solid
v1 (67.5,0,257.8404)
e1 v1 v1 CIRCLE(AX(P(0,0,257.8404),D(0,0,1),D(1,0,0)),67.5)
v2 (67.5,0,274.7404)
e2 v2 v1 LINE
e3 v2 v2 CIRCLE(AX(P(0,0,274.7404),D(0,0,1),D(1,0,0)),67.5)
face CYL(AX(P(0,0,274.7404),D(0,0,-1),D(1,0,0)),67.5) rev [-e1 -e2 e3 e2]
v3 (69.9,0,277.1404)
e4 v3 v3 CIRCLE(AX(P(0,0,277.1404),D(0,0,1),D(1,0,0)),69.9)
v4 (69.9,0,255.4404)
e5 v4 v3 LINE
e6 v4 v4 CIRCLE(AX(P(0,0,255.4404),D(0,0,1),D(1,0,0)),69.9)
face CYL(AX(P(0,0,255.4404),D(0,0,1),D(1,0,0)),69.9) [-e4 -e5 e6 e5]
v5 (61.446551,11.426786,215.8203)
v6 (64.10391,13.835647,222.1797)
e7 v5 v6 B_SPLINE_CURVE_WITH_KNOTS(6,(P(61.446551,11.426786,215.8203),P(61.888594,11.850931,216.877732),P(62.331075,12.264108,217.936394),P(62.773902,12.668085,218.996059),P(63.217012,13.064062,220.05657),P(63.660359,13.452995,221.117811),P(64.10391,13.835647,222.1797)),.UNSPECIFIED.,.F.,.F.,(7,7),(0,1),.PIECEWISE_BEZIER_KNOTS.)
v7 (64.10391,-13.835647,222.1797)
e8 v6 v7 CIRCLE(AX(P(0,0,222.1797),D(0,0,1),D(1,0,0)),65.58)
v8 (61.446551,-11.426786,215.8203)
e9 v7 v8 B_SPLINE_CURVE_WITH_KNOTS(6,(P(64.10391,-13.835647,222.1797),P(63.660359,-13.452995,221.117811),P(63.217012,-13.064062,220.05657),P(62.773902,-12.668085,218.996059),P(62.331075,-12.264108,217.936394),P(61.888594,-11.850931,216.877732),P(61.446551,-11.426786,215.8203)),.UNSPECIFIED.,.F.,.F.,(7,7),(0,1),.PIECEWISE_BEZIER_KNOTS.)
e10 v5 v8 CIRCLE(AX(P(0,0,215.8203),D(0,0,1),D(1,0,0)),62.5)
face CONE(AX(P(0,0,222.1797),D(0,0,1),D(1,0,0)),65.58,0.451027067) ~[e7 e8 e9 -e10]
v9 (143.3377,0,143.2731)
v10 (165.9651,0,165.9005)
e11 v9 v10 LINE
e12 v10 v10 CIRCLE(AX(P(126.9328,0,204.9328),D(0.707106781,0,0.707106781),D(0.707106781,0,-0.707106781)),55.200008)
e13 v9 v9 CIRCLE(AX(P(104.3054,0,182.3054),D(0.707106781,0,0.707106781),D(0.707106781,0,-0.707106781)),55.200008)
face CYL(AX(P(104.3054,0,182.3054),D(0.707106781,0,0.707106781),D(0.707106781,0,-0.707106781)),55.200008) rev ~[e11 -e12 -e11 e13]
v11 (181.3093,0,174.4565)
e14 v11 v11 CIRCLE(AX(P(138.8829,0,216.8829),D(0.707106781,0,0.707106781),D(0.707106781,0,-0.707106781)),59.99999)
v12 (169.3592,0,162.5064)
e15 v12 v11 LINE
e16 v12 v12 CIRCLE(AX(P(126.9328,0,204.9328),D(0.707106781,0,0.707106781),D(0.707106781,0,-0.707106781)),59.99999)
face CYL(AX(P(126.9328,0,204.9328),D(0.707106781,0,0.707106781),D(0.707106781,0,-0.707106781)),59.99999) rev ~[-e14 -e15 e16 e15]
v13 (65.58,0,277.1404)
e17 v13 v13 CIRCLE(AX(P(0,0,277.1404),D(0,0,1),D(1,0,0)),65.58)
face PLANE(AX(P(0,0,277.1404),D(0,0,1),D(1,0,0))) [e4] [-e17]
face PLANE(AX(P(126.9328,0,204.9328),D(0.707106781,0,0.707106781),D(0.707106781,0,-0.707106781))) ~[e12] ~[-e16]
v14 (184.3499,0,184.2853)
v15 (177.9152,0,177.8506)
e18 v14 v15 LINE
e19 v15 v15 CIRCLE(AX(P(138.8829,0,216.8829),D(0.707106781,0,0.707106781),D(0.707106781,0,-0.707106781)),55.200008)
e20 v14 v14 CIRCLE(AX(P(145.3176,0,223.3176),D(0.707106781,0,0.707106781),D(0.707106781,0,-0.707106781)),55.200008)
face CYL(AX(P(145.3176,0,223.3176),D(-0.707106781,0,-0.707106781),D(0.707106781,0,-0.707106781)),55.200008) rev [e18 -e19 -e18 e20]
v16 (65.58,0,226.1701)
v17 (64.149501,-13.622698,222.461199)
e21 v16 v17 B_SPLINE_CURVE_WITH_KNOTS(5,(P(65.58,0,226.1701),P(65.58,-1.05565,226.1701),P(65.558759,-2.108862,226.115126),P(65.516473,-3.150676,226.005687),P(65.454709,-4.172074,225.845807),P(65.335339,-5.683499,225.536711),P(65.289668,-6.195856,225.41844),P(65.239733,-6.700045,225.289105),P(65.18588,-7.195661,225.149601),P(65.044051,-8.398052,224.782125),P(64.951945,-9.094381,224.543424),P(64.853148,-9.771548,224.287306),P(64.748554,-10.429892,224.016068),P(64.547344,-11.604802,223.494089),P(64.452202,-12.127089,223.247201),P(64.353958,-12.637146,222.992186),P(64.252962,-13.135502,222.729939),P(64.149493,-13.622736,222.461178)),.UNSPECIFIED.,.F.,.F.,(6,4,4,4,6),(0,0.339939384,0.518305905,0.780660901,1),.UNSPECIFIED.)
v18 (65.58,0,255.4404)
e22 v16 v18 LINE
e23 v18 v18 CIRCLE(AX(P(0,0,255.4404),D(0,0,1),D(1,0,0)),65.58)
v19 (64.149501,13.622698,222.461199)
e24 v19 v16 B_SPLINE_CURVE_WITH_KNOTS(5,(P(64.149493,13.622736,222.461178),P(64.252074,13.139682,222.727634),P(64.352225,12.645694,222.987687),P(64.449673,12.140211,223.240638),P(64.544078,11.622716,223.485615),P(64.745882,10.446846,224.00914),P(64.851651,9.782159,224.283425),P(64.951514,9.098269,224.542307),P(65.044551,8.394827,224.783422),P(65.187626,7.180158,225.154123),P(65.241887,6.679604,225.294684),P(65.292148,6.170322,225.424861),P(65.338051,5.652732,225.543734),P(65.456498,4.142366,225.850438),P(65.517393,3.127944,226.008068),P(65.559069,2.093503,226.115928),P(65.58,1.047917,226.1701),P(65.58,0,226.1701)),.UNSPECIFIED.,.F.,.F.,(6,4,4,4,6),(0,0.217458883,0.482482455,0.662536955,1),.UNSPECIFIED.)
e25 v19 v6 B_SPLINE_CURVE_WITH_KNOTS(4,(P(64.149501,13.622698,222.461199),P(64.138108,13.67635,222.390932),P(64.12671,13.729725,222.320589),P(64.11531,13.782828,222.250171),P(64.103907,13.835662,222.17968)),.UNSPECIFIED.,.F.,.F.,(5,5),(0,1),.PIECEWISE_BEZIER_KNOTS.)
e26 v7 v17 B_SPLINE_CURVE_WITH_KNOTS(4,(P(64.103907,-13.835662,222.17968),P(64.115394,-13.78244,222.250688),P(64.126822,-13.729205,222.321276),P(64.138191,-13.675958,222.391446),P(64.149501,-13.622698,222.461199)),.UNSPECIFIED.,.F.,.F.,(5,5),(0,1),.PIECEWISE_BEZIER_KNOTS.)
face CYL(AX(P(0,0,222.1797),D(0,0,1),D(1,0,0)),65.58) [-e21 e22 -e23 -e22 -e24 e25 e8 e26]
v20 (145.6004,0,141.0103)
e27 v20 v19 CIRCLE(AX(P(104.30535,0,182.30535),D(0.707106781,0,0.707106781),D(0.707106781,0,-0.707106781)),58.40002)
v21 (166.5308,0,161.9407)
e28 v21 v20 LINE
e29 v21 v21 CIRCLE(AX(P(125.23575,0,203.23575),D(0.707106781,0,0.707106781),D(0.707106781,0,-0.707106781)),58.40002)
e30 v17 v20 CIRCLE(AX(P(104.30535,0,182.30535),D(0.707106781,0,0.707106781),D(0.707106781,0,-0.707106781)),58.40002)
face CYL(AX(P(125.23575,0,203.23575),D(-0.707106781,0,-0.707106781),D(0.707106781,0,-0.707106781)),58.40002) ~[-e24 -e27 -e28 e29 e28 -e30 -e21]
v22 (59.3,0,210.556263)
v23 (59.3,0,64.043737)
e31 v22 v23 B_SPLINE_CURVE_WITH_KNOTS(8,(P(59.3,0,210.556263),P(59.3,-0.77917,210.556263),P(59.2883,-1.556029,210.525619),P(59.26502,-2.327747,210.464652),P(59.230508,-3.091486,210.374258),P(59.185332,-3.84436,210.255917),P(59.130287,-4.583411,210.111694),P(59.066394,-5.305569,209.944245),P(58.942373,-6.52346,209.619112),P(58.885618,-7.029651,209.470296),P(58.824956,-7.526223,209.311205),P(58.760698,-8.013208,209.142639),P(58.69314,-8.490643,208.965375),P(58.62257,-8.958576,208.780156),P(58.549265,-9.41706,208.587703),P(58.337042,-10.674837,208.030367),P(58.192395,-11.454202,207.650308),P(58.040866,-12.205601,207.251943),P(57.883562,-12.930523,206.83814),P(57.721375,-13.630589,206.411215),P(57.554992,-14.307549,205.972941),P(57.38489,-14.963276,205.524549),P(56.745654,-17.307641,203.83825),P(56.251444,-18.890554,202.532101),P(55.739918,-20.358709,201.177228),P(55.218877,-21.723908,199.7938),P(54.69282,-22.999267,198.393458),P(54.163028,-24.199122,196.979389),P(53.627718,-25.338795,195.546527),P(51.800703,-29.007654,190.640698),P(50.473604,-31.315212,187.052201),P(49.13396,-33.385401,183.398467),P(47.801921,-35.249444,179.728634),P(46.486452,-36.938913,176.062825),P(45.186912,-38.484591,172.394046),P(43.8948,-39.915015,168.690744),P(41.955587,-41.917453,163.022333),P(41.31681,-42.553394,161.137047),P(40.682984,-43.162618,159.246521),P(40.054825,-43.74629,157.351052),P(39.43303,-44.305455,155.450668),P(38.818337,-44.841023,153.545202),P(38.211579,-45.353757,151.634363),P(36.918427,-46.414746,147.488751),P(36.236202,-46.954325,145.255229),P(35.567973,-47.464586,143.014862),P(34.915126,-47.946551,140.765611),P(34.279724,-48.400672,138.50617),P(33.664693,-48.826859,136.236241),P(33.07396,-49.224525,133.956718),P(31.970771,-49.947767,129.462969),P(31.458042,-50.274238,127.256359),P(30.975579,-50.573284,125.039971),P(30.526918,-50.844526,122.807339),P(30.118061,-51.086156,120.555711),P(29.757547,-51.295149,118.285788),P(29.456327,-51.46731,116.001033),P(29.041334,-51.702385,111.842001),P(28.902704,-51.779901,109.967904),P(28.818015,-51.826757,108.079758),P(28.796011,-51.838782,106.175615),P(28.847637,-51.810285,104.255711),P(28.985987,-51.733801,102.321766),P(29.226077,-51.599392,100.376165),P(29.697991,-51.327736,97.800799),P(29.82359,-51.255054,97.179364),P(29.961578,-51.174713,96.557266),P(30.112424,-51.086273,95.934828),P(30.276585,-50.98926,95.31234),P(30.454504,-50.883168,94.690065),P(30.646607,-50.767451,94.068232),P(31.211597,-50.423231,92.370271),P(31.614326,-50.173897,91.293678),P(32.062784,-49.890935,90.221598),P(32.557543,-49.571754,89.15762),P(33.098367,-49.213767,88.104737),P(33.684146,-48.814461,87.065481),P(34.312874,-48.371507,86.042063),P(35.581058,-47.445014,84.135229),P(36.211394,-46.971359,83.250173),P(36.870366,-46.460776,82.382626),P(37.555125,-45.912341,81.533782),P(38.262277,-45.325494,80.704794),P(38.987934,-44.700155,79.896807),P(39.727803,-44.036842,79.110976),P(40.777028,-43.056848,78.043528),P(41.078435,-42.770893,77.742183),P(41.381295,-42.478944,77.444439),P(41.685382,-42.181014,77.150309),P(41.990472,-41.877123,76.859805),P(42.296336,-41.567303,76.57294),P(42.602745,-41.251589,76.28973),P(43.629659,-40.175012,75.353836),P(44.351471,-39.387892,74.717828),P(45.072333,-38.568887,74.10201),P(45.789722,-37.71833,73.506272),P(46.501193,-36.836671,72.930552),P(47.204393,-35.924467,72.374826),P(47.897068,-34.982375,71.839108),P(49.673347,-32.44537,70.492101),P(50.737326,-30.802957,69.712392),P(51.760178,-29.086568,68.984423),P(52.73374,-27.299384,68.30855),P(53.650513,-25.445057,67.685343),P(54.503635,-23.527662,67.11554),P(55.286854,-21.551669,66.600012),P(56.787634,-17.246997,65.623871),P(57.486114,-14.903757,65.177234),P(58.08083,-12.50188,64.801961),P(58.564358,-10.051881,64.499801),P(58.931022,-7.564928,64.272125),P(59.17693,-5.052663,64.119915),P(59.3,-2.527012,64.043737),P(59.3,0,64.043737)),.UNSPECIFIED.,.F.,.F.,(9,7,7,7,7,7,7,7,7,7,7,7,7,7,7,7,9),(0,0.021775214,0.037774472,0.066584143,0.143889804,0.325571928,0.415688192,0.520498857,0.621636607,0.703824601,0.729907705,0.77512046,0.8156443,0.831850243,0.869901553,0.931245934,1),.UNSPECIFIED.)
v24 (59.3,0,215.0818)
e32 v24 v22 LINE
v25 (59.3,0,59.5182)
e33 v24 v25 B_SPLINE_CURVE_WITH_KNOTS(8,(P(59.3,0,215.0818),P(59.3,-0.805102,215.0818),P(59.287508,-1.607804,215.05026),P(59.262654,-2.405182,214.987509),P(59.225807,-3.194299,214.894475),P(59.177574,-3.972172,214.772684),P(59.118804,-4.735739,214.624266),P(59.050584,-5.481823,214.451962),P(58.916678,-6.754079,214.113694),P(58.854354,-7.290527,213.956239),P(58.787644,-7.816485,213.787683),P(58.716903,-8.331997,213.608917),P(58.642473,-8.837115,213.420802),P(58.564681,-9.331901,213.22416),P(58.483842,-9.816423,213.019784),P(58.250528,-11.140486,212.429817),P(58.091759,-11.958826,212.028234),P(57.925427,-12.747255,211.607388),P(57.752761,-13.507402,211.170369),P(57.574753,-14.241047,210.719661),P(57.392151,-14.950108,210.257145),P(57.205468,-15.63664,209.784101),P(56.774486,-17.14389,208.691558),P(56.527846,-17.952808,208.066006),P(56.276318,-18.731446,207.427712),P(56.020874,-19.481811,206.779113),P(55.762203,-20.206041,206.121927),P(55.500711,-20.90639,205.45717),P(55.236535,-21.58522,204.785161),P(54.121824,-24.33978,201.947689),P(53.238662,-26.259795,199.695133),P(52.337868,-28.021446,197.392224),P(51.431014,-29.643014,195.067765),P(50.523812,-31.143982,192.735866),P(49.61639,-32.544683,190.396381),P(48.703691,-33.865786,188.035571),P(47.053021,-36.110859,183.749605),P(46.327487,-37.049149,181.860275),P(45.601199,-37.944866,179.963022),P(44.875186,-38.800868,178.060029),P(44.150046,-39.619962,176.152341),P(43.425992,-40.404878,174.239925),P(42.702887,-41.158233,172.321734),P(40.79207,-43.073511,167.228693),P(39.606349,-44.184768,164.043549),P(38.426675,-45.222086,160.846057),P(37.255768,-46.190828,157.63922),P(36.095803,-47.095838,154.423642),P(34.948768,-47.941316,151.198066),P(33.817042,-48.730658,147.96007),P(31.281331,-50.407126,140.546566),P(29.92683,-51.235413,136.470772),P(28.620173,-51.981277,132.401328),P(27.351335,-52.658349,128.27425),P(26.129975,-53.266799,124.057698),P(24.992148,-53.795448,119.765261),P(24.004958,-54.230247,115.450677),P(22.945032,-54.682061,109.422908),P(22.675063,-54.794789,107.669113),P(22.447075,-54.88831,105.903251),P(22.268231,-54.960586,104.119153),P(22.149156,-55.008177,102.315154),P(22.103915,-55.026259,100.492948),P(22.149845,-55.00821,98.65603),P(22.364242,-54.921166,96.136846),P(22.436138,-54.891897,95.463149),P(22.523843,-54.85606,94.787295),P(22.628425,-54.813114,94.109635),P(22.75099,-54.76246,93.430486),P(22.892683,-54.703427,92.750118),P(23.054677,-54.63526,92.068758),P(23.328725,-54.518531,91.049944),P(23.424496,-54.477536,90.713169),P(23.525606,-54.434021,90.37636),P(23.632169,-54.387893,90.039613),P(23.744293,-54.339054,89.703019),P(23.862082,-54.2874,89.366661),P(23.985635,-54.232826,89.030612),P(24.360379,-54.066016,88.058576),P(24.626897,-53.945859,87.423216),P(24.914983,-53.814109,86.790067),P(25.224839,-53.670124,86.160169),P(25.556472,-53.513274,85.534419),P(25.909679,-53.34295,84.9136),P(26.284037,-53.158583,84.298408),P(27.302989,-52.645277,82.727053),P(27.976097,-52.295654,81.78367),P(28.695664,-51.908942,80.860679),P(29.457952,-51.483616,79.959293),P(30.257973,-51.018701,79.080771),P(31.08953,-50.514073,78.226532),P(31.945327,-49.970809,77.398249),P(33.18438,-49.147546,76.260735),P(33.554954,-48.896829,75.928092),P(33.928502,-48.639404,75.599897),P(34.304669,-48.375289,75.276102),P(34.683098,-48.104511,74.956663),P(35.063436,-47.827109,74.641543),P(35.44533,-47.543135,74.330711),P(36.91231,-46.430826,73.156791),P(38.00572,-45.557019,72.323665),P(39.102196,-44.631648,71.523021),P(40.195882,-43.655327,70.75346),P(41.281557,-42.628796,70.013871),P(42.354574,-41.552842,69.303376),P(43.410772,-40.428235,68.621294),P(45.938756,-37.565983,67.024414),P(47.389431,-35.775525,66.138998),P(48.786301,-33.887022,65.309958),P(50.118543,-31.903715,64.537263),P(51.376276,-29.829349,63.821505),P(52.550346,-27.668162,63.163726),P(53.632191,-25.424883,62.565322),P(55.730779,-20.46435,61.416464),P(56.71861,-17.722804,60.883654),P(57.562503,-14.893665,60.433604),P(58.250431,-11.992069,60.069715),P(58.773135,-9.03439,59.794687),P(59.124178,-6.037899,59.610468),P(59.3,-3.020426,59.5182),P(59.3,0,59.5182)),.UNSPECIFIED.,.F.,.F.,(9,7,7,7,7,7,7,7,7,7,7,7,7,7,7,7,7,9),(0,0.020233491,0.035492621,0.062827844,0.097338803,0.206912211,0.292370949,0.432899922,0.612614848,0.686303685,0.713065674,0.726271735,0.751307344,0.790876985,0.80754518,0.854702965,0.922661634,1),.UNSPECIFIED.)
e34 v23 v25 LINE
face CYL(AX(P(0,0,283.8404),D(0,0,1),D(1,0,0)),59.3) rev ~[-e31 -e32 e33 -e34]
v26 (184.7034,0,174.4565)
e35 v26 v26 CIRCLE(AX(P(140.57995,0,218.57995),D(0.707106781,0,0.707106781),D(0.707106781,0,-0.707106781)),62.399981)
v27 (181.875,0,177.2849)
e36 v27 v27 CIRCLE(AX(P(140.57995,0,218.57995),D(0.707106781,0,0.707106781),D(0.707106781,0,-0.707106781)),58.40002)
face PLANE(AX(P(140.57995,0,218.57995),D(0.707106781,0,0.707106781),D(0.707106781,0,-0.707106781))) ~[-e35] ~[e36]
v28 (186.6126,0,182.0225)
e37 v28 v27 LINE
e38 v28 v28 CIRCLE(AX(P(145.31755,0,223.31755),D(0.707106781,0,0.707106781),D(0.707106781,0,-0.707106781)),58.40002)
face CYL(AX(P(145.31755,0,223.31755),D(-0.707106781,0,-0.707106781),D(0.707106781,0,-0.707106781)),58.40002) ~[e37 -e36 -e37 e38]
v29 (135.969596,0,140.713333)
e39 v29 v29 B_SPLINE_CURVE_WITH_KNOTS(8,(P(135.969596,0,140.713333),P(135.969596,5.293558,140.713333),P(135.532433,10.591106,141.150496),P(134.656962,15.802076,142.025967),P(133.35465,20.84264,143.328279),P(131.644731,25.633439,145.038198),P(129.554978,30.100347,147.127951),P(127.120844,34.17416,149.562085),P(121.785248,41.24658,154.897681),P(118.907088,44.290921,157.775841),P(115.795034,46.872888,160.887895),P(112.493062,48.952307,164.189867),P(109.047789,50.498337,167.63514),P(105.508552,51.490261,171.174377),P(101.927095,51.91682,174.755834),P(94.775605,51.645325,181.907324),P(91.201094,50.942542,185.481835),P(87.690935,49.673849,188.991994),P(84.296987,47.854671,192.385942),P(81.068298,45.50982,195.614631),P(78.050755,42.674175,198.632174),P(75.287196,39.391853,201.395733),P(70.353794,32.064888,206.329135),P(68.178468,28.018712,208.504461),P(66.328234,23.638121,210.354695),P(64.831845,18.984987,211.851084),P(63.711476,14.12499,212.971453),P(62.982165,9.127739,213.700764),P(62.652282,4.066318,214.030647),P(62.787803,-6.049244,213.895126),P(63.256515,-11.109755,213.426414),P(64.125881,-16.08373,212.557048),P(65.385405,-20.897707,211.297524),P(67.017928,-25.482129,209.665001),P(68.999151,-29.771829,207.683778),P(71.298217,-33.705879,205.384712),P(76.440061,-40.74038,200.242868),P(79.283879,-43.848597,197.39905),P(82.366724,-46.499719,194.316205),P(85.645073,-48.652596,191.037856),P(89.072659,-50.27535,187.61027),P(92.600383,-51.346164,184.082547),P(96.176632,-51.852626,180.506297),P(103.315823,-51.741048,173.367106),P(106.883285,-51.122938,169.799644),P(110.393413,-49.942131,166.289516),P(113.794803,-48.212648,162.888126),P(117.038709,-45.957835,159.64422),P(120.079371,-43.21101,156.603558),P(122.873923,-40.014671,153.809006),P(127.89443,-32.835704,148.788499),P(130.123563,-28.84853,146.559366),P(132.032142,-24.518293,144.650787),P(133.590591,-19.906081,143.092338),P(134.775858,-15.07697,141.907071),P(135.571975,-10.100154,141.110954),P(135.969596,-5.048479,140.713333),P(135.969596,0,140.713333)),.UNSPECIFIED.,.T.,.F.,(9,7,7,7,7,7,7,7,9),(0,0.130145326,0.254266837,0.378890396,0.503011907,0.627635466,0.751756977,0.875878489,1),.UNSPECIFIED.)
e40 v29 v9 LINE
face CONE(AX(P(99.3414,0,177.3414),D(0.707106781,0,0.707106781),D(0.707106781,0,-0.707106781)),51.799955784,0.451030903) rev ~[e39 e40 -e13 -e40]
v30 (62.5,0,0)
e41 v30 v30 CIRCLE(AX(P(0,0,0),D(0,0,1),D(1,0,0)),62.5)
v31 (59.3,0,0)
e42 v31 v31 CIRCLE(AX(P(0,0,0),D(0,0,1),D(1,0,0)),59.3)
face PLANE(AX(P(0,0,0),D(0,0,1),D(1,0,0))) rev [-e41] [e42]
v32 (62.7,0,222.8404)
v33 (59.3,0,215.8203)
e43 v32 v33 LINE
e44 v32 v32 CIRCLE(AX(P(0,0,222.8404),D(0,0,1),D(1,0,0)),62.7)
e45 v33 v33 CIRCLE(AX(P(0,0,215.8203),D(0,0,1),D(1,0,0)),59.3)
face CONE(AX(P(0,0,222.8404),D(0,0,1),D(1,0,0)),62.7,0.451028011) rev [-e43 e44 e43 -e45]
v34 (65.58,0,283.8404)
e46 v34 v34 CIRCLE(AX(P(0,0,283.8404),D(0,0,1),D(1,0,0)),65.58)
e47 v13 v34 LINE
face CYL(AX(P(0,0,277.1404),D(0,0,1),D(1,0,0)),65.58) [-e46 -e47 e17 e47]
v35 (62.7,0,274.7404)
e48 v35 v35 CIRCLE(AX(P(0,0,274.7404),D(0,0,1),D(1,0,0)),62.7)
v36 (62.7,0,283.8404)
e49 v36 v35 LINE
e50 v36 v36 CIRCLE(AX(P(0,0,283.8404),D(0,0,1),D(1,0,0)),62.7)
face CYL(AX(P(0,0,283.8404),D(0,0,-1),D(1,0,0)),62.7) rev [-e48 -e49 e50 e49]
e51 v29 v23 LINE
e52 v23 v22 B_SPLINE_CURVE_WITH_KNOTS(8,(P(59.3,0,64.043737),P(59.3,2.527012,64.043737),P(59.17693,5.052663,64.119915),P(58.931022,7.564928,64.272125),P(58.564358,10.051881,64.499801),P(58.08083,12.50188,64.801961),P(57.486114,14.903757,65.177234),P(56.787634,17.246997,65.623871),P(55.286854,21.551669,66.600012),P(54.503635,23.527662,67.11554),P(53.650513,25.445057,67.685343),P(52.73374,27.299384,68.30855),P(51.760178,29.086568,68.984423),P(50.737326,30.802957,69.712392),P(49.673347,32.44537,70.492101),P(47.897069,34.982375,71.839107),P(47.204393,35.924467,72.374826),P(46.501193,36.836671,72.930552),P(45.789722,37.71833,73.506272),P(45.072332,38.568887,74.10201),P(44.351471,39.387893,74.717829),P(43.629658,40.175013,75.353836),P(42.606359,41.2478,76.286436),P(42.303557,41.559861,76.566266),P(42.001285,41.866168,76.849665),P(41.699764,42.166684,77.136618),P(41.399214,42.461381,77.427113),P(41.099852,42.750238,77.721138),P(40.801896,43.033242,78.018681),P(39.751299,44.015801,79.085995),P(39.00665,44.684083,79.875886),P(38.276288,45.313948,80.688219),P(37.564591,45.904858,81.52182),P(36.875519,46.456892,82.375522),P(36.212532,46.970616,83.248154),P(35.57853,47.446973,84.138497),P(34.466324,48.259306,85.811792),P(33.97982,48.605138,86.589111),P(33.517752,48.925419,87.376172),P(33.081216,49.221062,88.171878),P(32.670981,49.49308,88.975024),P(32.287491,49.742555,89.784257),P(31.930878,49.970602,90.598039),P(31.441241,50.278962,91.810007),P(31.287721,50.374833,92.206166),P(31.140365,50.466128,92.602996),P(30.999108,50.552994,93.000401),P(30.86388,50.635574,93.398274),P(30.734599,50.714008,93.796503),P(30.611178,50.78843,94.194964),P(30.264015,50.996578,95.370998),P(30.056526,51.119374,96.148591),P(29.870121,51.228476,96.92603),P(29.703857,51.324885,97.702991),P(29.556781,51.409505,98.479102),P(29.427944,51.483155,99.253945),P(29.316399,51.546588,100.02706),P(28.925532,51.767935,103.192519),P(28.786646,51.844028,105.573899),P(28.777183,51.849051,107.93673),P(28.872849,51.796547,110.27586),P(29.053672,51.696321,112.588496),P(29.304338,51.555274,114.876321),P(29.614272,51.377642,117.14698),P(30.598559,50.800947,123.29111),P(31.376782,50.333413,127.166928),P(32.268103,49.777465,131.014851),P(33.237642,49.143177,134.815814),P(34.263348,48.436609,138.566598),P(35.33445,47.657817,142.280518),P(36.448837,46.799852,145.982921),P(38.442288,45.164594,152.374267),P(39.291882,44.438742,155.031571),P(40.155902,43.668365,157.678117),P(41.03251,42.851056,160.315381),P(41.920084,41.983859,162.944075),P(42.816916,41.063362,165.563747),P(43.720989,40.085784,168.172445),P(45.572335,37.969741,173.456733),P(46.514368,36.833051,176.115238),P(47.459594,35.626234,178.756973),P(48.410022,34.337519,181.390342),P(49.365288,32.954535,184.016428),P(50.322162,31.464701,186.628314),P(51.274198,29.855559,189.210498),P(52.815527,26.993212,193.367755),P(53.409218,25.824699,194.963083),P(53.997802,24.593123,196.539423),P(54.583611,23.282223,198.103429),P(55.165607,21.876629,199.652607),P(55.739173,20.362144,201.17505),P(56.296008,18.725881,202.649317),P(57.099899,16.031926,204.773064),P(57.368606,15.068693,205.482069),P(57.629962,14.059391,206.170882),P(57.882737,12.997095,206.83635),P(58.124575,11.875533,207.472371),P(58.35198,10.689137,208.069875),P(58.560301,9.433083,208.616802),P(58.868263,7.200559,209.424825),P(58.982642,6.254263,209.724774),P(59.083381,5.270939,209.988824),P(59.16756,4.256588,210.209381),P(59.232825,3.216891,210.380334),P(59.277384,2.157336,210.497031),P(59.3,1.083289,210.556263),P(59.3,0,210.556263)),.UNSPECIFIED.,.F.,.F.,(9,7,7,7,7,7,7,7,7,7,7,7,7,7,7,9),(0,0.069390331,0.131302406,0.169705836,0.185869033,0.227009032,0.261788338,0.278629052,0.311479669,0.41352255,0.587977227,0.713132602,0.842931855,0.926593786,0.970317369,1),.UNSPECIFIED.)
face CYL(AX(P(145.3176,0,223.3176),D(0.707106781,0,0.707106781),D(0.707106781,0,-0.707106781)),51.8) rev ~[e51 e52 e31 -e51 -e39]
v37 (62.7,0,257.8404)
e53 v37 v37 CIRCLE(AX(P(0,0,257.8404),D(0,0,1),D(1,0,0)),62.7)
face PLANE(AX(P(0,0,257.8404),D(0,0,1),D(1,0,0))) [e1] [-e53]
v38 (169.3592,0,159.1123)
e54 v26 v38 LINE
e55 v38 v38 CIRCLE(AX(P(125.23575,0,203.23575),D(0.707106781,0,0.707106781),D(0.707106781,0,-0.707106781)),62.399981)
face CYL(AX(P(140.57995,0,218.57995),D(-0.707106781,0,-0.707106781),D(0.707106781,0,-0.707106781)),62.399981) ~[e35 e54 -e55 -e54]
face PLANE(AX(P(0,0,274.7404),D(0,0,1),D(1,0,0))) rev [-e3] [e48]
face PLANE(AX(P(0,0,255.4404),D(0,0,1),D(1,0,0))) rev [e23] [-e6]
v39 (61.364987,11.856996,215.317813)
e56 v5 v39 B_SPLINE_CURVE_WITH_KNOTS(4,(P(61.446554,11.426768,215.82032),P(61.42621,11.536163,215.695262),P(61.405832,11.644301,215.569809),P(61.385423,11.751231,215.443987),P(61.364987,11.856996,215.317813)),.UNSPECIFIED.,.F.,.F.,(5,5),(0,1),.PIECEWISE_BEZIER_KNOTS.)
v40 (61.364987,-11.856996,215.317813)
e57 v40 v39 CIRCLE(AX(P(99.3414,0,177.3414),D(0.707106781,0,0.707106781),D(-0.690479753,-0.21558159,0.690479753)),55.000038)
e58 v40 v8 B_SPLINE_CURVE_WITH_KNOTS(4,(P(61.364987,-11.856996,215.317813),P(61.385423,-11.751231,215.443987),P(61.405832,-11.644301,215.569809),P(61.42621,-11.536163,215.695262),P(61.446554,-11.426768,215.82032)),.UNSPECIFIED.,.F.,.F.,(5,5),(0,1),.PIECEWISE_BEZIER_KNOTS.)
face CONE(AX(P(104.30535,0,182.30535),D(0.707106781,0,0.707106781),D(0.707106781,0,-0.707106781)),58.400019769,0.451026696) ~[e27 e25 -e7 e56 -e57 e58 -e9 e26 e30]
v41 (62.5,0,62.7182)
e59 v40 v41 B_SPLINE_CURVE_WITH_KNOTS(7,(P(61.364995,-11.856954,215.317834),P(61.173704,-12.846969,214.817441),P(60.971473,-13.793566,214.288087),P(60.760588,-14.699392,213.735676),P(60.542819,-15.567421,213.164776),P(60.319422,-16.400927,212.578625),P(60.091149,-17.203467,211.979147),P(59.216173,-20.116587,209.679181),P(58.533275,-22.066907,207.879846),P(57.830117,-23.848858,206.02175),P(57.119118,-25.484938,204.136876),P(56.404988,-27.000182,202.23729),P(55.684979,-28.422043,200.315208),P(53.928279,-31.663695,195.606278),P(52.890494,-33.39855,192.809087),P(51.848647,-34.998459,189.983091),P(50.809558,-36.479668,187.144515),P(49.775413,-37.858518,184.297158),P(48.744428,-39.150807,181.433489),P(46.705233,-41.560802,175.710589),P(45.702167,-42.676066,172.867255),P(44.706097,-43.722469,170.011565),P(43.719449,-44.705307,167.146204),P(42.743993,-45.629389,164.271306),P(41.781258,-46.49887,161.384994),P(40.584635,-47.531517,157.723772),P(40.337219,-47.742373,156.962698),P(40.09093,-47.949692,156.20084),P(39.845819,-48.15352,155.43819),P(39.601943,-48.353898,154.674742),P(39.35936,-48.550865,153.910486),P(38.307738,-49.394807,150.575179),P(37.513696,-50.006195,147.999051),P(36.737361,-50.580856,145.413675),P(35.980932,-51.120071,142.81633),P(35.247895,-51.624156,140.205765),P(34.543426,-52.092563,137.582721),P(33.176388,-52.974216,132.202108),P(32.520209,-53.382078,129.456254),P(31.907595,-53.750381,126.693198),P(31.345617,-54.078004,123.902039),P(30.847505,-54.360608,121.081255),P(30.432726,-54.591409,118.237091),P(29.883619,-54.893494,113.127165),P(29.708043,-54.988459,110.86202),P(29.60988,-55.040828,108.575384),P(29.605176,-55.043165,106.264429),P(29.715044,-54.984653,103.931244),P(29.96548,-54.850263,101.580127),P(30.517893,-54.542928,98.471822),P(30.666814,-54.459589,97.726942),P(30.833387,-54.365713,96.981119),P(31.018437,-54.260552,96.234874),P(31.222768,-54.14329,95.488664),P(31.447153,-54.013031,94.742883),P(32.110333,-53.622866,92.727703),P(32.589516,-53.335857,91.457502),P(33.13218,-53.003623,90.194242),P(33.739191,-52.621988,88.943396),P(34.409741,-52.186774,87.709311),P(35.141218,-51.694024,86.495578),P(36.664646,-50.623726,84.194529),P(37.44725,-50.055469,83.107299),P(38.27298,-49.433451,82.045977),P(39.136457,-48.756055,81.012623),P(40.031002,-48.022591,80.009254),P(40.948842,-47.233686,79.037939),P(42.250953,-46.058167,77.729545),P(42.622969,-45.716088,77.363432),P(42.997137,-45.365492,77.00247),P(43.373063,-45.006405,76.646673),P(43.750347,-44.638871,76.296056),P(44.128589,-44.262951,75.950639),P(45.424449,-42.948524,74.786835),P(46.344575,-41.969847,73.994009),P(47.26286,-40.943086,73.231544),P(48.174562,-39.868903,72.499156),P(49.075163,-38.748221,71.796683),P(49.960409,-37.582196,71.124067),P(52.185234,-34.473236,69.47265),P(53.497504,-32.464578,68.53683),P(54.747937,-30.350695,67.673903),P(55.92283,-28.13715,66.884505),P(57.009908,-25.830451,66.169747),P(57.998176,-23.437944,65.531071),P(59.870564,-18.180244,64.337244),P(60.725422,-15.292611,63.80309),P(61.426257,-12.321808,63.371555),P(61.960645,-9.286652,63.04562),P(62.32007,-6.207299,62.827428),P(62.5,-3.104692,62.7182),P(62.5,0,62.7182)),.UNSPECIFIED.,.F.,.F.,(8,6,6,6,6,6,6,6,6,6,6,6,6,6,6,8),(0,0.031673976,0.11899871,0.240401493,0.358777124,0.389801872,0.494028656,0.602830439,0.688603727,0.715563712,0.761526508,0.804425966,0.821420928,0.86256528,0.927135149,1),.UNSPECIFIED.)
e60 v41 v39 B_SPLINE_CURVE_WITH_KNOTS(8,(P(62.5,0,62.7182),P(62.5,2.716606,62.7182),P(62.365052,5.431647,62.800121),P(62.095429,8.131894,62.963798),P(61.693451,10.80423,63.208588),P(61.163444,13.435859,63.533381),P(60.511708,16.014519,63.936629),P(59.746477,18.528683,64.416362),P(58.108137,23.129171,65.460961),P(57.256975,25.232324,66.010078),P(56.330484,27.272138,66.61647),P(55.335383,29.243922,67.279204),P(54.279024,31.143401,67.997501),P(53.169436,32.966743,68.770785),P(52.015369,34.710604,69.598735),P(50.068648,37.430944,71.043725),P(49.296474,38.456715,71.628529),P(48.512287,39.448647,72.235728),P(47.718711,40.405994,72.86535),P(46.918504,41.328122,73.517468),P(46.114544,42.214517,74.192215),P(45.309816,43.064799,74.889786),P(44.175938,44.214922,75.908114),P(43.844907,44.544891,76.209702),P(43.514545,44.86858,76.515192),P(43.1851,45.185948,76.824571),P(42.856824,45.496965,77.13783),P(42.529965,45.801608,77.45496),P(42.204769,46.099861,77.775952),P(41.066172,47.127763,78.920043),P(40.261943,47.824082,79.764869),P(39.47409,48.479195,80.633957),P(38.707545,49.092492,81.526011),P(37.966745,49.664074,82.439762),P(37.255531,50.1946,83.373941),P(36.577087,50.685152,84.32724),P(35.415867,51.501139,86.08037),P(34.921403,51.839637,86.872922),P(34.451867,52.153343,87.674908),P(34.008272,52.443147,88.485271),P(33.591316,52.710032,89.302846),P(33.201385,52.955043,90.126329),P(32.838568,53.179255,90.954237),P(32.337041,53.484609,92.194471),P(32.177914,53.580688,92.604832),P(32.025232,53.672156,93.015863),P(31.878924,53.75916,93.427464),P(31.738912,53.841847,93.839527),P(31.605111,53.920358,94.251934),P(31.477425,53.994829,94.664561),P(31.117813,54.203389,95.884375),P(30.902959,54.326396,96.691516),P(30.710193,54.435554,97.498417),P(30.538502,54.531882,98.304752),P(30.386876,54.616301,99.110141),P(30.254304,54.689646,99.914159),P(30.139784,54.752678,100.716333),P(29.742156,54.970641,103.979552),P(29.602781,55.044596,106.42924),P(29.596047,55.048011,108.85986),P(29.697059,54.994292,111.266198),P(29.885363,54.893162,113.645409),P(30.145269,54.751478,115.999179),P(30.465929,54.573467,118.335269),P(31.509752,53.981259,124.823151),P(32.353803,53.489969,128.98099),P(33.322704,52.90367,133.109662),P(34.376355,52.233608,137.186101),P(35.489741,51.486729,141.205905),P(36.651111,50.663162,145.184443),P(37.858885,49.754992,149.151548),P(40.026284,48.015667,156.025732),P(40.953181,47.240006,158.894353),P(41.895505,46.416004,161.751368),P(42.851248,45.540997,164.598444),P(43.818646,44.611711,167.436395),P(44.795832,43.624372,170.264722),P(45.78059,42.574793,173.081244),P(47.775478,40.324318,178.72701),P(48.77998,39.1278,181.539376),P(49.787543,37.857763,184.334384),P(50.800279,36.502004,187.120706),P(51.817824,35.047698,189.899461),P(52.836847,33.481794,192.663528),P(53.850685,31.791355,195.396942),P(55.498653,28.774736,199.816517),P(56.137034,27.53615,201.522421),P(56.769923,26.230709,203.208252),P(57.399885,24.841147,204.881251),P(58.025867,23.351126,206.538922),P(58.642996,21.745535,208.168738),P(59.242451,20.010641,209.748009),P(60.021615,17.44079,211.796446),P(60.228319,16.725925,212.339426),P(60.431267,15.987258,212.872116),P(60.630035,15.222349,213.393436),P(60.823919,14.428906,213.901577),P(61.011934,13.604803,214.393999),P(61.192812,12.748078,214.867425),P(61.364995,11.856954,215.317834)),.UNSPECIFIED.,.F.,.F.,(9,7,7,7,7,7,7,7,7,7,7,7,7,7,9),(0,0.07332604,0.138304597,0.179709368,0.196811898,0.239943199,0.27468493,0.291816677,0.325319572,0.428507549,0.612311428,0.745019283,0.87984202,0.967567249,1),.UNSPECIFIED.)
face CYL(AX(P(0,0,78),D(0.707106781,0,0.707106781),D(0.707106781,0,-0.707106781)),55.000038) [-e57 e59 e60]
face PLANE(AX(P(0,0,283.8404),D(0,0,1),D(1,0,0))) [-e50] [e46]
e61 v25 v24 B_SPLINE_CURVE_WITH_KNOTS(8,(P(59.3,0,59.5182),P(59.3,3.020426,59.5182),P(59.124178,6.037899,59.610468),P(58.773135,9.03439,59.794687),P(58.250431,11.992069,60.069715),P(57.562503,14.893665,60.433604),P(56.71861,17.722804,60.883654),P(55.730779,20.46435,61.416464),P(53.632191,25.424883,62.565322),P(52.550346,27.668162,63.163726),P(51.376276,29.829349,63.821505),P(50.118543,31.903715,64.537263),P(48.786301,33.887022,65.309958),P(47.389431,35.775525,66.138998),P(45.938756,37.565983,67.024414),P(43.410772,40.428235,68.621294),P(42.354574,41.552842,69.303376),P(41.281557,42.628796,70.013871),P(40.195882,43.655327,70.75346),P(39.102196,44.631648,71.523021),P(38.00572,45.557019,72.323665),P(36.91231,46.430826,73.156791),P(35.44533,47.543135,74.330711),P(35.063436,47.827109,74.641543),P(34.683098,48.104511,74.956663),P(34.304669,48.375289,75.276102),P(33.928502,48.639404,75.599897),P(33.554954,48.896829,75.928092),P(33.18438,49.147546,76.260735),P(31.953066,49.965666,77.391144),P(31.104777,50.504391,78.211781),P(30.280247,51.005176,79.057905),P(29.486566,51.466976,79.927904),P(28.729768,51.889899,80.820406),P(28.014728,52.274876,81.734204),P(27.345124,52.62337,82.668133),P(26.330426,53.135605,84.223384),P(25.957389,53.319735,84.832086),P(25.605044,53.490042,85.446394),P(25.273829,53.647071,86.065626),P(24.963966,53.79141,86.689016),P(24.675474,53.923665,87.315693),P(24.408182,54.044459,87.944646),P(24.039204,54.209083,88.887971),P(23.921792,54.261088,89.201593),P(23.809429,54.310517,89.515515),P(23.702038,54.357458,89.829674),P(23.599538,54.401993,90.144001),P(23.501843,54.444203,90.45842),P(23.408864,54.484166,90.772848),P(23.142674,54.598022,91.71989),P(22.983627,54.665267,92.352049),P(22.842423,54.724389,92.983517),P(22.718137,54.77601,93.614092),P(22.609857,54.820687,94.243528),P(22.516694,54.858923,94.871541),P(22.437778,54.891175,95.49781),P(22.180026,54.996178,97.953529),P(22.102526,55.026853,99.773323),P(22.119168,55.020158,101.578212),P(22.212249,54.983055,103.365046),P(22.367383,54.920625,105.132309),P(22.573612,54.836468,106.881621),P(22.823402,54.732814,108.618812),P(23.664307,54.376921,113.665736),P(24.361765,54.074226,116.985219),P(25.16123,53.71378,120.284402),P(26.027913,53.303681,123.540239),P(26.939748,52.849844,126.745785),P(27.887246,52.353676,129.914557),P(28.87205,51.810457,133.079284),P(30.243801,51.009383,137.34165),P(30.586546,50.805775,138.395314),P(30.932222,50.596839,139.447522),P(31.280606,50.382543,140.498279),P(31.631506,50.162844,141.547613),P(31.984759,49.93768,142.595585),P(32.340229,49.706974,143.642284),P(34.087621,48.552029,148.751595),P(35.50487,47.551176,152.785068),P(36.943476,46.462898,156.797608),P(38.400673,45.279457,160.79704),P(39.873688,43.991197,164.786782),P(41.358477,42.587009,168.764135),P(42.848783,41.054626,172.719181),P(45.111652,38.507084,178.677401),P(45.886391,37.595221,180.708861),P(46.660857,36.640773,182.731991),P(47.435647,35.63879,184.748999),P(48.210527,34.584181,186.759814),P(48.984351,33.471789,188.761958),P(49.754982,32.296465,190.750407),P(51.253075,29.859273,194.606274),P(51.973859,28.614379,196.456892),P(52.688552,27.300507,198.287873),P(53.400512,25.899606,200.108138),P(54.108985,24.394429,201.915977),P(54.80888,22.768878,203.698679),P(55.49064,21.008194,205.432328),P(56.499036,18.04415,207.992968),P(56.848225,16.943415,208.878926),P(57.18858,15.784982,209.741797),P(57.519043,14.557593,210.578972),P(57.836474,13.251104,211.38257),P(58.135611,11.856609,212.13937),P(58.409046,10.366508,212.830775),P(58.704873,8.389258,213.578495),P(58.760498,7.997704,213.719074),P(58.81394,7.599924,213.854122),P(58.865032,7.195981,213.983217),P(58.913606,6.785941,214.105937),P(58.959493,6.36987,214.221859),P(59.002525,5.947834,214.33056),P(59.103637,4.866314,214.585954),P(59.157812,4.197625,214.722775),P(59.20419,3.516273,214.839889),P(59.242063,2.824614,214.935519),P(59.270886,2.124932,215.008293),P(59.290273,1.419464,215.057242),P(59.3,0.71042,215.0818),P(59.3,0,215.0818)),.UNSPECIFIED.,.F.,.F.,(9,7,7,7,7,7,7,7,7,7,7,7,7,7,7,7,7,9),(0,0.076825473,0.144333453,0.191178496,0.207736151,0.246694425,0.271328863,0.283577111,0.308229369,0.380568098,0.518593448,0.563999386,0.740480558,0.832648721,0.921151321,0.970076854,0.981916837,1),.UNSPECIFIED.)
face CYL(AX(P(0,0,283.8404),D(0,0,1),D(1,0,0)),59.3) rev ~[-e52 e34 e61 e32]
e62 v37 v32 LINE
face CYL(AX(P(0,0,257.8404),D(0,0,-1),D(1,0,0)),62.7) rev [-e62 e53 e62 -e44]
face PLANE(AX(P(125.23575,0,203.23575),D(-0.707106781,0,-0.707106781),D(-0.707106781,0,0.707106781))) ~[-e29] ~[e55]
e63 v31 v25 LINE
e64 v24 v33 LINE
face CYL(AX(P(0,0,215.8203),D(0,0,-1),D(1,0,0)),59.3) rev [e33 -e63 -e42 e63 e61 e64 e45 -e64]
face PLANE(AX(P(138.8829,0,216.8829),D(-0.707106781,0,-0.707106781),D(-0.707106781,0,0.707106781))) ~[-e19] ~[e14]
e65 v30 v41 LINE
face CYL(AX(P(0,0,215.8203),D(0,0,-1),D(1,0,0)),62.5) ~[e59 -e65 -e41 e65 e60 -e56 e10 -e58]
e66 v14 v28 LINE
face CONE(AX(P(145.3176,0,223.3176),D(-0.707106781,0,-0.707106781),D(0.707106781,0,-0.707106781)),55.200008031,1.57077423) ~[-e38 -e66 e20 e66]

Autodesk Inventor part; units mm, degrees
ref_plane "YZ Plane" through (0, 0, 0) normal (1, 0, 0) x (0, 1, 0)
ref_plane "XZ Plane" through (0, 0, 0) normal (0, 1, 0) x (-1, 0, 0)
ref_plane "XY Plane" through (0, 0, 0) normal (0, 0, 1) x (1, 0, 0)
sketch "Sketch1" plane through (0, 0, 0) normal (0, 1, 0) x (-1, 0, 0)
  line L0 (0, 0) -> (0, 283.8404)
  line L1 (-65.58, 222.1797) -> (-62.5, 215.8203)
  line L2 (-65.58, 283.8404) -> (-62.7, 283.8404)
  line L3 (-62.7, 222.8404) -> (-59.3, 215.8203)
  line L4 (0, 0) -> (-62.5, 0) construction
  line L5 (-59.3, 215.8203) -> (-59.3, 0)
  line L6 (-62.5, 215.8203) -> (-62.5, 0)
  line L7 (-59.3, 0) -> (-62.5, 0)
  line L8 (-62.7, 283.8404) -> (0, 283.8404) construction
  line L9 (-62.5, 0) -> (-59.3, 0)
  line L10 (-64.04, 219) -> (0, 219) construction
  line L11 (0, 78) -> (-62.5, 78) construction
  line L12 (0, 60) -> (-62.5, 60) construction
  line L13 (0, 78) -> (-145.3176, 223.3176)
  line L14 (0, 78) -> (-36.6281, 41.3719) construction
  line L15 (-36.6281, 41.3719) -> (-135.9695, 140.7133)
  line L16 (-36.6281, 41.3719) -> (-38.8909, 39.1091) construction
  line L17 (-38.8909, 39.1091) -> (-138.2323, 138.4505)
  line L18 (-36.6281, 41.3719) -> (-38.8909, 39.1091)
  line L19 (-135.9695, 140.7133) -> (-143.3377, 143.2731)
  line L20 (-184.3499, 184.2853) -> (-186.6126, 182.0225)
  line L21 (-145.6004, 141.0103) -> (-138.2323, 138.4505)
  line L22 (-141.9163, 139.7304) -> (-101.8234, 179.8234) construction
  line L23 (-65.58, 222.1797) -> (-65.58, 255.4404)
  line L24 (-65.58, 255.4404) -> (-69.9, 255.4404)
  line L25 (-69.9, 255.4404) -> (-69.9, 277.1404)
  line L26 (-69.9, 277.1404) -> (-65.58, 277.1404)
  line L27 (-65.58, 277.1404) -> (-65.58, 283.8404)
  line L28 (-62.7, 283.8404) -> (-62.7, 274.7404)
  line L29 (-62.7, 274.7404) -> (-67.5, 274.7404)
  line L30 (-67.5, 274.7404) -> (-67.5, 257.8404)
  line L31 (-67.5, 257.8404) -> (-62.7, 257.8404)
  line L32 (-62.7, 257.8404) -> (-62.7, 222.8404)
  line L33 (-143.3377, 143.2731) -> (-165.9651, 165.9005)
  line L34 (-165.9651, 165.9005) -> (-169.3592, 162.5064)
  line L35 (-169.3592, 162.5064) -> (-181.3093, 174.4565)
  line L36 (-181.3093, 174.4565) -> (-177.9152, 177.8506)
  line L37 (-184.3499, 184.2853) -> (-177.9152, 177.8506)
  line L38 (-186.6126, 182.0225) -> (-181.875, 177.2849)
  line L39 (-181.875, 177.2849) -> (-184.7034, 174.4565)
  line L40 (-184.7034, 174.4565) -> (-169.3592, 159.1123)
  line L41 (-169.3592, 159.1123) -> (-166.5308, 161.9407)
  line L42 (-166.5308, 161.9407) -> (-145.6004, 141.0103)
  line L43 (-184.3499, 184.2853) -> (-145.3176, 223.3176) construction
  line L44 (-135.9695, 140.7133) -> (-99.3414, 177.3414) construction
  line L45 (-143.3377, 143.2731) -> (-104.3054, 182.3054) construction
  line L46 (-62.5, 215.8203) -> (-59.3, 215.8203) construction
  line L47 (-62.7, 222.8404) -> (0, 222.8404) construction
  dimension "d0" = 125
  dimension "d1" = 3.2
  dimension "d2" = 60
  dimension "d3" = 18
  dimension "d4" = 141
  dimension "d5" = 45
  dimension "d6" = 110
  dimension "d7" = 3.2
  dimension "d8" = 144
  dimension "d12" = 125.4
  dimension "d13" = 2.4
  dimension "d14" = 2.4
  dimension "d15" = 2.4
  dimension "d16" = 26
  dimension "d17" = 7.2
  dimension "d18" = 2.88
  dimension "d19" = 2.4
  dimension "d20" = 2.4
  dimension "d21" = 2.4
  dimension "d22" = 7.2
  dimension "d23" = 26
  dimension "d24" = 110.4
  dimension "d25" = 9.1
  dimension "d26" = 2.88
  dimension "d27" = 35
  dimension "d28" = 2.88
  dimension "d29" = 9.1
  dimension "d30" = 32
revolve "Revolution1" add sketch "Sketch1" angle 360 about axis through (0, 0, 0) along (0, 0, 1) contours L23 L24 L25 L26 L27 L2 L28 L29 L30 L31 L32 L3 L5 L13 L6 L1 | L13 L5 L15 L6 | L15 L5 L17 L6 | L17 L5 L7 L6
revolve "Revolution2" add sketch "Sketch1" angle 360 about axis through (0, 0, 78) along (0.7071, 0, 0.7071) contours L15 L5 L17 L6 | L6 L17 L21 L42 L41 L40 L39 L38 L20 L37 L36 L35 L34 L33 L19 L15 | L15 L18 L17 L5
sketch "Sketch2" plane through (145.3176, 0, 223.3176) normal (0.7071, 0, 0.7071) x (0.7071, 0, -0.7071)
  circle A0 centre (0, 0) radius 55.2 projected
  circle A1 centre (0, 0) radius 51.8
  arc A2 (-16.8261, -2.4255) -> (-16.8261, 2.4255) centre (0, 0) ccw projected
sketch "Sketch3" plane through (0, 0, 283.8404) normal (0, 0, 1) x (1, 0, 0)
  circle A0 centre (0, 0) radius 62.7 projected
  circle A1 centre (0, 0) radius 59.3
  arc A2 (34.4837, 1.0611) -> (34.4837, -1.0611) centre (0, 0) ccw projected
extrude "Extrusion1" cut sketch "Sketch3" against normal through all contours A1
extrude "Extrusion2" cut sketch "Sketch2" against normal up to surface contours A1
equation "\"d0\" = De"
equation "\"d2\" = L1"
equation "\"d3\" = z1"
equation "\"d12\" = Ds"
equation "\"d13\" = e3"
equation "\"d10\" = L1 + z2"
equation "\"De\" = 125"
equation "\"Ds\" = 125.4"
equation "\"L1\" = 60"
equation "\"e\" = 3.2"
equation "\"z1\" = 18"
equation "\"z2\" = 144"
equation "\"z3\" = 141"
equation "\"e2\" = 0.9 * e"
equation "\"e3\" = 0.75 * e"
equation "\"A\" = 35"
equation "\"C1\" = 26"
equation "\"C2\" = 26"
equation "\"A1\" = 32"
equation "\"e1\" = 3.2"
equation "\"e12\" = 2.88"
equation "\"e13\" = 2.4"
equation "\"L2\" = 54"
equation "\"Ds1\" = 110.4"
equation "\"Size_Designation\" = 1.2345"
properties part number "ISO 3633 45 Deg Reducing Branch with Single Socket for Elastomeric Sealing Ring Joints DN125 x DN110" material "PVC, Unplasticized"
